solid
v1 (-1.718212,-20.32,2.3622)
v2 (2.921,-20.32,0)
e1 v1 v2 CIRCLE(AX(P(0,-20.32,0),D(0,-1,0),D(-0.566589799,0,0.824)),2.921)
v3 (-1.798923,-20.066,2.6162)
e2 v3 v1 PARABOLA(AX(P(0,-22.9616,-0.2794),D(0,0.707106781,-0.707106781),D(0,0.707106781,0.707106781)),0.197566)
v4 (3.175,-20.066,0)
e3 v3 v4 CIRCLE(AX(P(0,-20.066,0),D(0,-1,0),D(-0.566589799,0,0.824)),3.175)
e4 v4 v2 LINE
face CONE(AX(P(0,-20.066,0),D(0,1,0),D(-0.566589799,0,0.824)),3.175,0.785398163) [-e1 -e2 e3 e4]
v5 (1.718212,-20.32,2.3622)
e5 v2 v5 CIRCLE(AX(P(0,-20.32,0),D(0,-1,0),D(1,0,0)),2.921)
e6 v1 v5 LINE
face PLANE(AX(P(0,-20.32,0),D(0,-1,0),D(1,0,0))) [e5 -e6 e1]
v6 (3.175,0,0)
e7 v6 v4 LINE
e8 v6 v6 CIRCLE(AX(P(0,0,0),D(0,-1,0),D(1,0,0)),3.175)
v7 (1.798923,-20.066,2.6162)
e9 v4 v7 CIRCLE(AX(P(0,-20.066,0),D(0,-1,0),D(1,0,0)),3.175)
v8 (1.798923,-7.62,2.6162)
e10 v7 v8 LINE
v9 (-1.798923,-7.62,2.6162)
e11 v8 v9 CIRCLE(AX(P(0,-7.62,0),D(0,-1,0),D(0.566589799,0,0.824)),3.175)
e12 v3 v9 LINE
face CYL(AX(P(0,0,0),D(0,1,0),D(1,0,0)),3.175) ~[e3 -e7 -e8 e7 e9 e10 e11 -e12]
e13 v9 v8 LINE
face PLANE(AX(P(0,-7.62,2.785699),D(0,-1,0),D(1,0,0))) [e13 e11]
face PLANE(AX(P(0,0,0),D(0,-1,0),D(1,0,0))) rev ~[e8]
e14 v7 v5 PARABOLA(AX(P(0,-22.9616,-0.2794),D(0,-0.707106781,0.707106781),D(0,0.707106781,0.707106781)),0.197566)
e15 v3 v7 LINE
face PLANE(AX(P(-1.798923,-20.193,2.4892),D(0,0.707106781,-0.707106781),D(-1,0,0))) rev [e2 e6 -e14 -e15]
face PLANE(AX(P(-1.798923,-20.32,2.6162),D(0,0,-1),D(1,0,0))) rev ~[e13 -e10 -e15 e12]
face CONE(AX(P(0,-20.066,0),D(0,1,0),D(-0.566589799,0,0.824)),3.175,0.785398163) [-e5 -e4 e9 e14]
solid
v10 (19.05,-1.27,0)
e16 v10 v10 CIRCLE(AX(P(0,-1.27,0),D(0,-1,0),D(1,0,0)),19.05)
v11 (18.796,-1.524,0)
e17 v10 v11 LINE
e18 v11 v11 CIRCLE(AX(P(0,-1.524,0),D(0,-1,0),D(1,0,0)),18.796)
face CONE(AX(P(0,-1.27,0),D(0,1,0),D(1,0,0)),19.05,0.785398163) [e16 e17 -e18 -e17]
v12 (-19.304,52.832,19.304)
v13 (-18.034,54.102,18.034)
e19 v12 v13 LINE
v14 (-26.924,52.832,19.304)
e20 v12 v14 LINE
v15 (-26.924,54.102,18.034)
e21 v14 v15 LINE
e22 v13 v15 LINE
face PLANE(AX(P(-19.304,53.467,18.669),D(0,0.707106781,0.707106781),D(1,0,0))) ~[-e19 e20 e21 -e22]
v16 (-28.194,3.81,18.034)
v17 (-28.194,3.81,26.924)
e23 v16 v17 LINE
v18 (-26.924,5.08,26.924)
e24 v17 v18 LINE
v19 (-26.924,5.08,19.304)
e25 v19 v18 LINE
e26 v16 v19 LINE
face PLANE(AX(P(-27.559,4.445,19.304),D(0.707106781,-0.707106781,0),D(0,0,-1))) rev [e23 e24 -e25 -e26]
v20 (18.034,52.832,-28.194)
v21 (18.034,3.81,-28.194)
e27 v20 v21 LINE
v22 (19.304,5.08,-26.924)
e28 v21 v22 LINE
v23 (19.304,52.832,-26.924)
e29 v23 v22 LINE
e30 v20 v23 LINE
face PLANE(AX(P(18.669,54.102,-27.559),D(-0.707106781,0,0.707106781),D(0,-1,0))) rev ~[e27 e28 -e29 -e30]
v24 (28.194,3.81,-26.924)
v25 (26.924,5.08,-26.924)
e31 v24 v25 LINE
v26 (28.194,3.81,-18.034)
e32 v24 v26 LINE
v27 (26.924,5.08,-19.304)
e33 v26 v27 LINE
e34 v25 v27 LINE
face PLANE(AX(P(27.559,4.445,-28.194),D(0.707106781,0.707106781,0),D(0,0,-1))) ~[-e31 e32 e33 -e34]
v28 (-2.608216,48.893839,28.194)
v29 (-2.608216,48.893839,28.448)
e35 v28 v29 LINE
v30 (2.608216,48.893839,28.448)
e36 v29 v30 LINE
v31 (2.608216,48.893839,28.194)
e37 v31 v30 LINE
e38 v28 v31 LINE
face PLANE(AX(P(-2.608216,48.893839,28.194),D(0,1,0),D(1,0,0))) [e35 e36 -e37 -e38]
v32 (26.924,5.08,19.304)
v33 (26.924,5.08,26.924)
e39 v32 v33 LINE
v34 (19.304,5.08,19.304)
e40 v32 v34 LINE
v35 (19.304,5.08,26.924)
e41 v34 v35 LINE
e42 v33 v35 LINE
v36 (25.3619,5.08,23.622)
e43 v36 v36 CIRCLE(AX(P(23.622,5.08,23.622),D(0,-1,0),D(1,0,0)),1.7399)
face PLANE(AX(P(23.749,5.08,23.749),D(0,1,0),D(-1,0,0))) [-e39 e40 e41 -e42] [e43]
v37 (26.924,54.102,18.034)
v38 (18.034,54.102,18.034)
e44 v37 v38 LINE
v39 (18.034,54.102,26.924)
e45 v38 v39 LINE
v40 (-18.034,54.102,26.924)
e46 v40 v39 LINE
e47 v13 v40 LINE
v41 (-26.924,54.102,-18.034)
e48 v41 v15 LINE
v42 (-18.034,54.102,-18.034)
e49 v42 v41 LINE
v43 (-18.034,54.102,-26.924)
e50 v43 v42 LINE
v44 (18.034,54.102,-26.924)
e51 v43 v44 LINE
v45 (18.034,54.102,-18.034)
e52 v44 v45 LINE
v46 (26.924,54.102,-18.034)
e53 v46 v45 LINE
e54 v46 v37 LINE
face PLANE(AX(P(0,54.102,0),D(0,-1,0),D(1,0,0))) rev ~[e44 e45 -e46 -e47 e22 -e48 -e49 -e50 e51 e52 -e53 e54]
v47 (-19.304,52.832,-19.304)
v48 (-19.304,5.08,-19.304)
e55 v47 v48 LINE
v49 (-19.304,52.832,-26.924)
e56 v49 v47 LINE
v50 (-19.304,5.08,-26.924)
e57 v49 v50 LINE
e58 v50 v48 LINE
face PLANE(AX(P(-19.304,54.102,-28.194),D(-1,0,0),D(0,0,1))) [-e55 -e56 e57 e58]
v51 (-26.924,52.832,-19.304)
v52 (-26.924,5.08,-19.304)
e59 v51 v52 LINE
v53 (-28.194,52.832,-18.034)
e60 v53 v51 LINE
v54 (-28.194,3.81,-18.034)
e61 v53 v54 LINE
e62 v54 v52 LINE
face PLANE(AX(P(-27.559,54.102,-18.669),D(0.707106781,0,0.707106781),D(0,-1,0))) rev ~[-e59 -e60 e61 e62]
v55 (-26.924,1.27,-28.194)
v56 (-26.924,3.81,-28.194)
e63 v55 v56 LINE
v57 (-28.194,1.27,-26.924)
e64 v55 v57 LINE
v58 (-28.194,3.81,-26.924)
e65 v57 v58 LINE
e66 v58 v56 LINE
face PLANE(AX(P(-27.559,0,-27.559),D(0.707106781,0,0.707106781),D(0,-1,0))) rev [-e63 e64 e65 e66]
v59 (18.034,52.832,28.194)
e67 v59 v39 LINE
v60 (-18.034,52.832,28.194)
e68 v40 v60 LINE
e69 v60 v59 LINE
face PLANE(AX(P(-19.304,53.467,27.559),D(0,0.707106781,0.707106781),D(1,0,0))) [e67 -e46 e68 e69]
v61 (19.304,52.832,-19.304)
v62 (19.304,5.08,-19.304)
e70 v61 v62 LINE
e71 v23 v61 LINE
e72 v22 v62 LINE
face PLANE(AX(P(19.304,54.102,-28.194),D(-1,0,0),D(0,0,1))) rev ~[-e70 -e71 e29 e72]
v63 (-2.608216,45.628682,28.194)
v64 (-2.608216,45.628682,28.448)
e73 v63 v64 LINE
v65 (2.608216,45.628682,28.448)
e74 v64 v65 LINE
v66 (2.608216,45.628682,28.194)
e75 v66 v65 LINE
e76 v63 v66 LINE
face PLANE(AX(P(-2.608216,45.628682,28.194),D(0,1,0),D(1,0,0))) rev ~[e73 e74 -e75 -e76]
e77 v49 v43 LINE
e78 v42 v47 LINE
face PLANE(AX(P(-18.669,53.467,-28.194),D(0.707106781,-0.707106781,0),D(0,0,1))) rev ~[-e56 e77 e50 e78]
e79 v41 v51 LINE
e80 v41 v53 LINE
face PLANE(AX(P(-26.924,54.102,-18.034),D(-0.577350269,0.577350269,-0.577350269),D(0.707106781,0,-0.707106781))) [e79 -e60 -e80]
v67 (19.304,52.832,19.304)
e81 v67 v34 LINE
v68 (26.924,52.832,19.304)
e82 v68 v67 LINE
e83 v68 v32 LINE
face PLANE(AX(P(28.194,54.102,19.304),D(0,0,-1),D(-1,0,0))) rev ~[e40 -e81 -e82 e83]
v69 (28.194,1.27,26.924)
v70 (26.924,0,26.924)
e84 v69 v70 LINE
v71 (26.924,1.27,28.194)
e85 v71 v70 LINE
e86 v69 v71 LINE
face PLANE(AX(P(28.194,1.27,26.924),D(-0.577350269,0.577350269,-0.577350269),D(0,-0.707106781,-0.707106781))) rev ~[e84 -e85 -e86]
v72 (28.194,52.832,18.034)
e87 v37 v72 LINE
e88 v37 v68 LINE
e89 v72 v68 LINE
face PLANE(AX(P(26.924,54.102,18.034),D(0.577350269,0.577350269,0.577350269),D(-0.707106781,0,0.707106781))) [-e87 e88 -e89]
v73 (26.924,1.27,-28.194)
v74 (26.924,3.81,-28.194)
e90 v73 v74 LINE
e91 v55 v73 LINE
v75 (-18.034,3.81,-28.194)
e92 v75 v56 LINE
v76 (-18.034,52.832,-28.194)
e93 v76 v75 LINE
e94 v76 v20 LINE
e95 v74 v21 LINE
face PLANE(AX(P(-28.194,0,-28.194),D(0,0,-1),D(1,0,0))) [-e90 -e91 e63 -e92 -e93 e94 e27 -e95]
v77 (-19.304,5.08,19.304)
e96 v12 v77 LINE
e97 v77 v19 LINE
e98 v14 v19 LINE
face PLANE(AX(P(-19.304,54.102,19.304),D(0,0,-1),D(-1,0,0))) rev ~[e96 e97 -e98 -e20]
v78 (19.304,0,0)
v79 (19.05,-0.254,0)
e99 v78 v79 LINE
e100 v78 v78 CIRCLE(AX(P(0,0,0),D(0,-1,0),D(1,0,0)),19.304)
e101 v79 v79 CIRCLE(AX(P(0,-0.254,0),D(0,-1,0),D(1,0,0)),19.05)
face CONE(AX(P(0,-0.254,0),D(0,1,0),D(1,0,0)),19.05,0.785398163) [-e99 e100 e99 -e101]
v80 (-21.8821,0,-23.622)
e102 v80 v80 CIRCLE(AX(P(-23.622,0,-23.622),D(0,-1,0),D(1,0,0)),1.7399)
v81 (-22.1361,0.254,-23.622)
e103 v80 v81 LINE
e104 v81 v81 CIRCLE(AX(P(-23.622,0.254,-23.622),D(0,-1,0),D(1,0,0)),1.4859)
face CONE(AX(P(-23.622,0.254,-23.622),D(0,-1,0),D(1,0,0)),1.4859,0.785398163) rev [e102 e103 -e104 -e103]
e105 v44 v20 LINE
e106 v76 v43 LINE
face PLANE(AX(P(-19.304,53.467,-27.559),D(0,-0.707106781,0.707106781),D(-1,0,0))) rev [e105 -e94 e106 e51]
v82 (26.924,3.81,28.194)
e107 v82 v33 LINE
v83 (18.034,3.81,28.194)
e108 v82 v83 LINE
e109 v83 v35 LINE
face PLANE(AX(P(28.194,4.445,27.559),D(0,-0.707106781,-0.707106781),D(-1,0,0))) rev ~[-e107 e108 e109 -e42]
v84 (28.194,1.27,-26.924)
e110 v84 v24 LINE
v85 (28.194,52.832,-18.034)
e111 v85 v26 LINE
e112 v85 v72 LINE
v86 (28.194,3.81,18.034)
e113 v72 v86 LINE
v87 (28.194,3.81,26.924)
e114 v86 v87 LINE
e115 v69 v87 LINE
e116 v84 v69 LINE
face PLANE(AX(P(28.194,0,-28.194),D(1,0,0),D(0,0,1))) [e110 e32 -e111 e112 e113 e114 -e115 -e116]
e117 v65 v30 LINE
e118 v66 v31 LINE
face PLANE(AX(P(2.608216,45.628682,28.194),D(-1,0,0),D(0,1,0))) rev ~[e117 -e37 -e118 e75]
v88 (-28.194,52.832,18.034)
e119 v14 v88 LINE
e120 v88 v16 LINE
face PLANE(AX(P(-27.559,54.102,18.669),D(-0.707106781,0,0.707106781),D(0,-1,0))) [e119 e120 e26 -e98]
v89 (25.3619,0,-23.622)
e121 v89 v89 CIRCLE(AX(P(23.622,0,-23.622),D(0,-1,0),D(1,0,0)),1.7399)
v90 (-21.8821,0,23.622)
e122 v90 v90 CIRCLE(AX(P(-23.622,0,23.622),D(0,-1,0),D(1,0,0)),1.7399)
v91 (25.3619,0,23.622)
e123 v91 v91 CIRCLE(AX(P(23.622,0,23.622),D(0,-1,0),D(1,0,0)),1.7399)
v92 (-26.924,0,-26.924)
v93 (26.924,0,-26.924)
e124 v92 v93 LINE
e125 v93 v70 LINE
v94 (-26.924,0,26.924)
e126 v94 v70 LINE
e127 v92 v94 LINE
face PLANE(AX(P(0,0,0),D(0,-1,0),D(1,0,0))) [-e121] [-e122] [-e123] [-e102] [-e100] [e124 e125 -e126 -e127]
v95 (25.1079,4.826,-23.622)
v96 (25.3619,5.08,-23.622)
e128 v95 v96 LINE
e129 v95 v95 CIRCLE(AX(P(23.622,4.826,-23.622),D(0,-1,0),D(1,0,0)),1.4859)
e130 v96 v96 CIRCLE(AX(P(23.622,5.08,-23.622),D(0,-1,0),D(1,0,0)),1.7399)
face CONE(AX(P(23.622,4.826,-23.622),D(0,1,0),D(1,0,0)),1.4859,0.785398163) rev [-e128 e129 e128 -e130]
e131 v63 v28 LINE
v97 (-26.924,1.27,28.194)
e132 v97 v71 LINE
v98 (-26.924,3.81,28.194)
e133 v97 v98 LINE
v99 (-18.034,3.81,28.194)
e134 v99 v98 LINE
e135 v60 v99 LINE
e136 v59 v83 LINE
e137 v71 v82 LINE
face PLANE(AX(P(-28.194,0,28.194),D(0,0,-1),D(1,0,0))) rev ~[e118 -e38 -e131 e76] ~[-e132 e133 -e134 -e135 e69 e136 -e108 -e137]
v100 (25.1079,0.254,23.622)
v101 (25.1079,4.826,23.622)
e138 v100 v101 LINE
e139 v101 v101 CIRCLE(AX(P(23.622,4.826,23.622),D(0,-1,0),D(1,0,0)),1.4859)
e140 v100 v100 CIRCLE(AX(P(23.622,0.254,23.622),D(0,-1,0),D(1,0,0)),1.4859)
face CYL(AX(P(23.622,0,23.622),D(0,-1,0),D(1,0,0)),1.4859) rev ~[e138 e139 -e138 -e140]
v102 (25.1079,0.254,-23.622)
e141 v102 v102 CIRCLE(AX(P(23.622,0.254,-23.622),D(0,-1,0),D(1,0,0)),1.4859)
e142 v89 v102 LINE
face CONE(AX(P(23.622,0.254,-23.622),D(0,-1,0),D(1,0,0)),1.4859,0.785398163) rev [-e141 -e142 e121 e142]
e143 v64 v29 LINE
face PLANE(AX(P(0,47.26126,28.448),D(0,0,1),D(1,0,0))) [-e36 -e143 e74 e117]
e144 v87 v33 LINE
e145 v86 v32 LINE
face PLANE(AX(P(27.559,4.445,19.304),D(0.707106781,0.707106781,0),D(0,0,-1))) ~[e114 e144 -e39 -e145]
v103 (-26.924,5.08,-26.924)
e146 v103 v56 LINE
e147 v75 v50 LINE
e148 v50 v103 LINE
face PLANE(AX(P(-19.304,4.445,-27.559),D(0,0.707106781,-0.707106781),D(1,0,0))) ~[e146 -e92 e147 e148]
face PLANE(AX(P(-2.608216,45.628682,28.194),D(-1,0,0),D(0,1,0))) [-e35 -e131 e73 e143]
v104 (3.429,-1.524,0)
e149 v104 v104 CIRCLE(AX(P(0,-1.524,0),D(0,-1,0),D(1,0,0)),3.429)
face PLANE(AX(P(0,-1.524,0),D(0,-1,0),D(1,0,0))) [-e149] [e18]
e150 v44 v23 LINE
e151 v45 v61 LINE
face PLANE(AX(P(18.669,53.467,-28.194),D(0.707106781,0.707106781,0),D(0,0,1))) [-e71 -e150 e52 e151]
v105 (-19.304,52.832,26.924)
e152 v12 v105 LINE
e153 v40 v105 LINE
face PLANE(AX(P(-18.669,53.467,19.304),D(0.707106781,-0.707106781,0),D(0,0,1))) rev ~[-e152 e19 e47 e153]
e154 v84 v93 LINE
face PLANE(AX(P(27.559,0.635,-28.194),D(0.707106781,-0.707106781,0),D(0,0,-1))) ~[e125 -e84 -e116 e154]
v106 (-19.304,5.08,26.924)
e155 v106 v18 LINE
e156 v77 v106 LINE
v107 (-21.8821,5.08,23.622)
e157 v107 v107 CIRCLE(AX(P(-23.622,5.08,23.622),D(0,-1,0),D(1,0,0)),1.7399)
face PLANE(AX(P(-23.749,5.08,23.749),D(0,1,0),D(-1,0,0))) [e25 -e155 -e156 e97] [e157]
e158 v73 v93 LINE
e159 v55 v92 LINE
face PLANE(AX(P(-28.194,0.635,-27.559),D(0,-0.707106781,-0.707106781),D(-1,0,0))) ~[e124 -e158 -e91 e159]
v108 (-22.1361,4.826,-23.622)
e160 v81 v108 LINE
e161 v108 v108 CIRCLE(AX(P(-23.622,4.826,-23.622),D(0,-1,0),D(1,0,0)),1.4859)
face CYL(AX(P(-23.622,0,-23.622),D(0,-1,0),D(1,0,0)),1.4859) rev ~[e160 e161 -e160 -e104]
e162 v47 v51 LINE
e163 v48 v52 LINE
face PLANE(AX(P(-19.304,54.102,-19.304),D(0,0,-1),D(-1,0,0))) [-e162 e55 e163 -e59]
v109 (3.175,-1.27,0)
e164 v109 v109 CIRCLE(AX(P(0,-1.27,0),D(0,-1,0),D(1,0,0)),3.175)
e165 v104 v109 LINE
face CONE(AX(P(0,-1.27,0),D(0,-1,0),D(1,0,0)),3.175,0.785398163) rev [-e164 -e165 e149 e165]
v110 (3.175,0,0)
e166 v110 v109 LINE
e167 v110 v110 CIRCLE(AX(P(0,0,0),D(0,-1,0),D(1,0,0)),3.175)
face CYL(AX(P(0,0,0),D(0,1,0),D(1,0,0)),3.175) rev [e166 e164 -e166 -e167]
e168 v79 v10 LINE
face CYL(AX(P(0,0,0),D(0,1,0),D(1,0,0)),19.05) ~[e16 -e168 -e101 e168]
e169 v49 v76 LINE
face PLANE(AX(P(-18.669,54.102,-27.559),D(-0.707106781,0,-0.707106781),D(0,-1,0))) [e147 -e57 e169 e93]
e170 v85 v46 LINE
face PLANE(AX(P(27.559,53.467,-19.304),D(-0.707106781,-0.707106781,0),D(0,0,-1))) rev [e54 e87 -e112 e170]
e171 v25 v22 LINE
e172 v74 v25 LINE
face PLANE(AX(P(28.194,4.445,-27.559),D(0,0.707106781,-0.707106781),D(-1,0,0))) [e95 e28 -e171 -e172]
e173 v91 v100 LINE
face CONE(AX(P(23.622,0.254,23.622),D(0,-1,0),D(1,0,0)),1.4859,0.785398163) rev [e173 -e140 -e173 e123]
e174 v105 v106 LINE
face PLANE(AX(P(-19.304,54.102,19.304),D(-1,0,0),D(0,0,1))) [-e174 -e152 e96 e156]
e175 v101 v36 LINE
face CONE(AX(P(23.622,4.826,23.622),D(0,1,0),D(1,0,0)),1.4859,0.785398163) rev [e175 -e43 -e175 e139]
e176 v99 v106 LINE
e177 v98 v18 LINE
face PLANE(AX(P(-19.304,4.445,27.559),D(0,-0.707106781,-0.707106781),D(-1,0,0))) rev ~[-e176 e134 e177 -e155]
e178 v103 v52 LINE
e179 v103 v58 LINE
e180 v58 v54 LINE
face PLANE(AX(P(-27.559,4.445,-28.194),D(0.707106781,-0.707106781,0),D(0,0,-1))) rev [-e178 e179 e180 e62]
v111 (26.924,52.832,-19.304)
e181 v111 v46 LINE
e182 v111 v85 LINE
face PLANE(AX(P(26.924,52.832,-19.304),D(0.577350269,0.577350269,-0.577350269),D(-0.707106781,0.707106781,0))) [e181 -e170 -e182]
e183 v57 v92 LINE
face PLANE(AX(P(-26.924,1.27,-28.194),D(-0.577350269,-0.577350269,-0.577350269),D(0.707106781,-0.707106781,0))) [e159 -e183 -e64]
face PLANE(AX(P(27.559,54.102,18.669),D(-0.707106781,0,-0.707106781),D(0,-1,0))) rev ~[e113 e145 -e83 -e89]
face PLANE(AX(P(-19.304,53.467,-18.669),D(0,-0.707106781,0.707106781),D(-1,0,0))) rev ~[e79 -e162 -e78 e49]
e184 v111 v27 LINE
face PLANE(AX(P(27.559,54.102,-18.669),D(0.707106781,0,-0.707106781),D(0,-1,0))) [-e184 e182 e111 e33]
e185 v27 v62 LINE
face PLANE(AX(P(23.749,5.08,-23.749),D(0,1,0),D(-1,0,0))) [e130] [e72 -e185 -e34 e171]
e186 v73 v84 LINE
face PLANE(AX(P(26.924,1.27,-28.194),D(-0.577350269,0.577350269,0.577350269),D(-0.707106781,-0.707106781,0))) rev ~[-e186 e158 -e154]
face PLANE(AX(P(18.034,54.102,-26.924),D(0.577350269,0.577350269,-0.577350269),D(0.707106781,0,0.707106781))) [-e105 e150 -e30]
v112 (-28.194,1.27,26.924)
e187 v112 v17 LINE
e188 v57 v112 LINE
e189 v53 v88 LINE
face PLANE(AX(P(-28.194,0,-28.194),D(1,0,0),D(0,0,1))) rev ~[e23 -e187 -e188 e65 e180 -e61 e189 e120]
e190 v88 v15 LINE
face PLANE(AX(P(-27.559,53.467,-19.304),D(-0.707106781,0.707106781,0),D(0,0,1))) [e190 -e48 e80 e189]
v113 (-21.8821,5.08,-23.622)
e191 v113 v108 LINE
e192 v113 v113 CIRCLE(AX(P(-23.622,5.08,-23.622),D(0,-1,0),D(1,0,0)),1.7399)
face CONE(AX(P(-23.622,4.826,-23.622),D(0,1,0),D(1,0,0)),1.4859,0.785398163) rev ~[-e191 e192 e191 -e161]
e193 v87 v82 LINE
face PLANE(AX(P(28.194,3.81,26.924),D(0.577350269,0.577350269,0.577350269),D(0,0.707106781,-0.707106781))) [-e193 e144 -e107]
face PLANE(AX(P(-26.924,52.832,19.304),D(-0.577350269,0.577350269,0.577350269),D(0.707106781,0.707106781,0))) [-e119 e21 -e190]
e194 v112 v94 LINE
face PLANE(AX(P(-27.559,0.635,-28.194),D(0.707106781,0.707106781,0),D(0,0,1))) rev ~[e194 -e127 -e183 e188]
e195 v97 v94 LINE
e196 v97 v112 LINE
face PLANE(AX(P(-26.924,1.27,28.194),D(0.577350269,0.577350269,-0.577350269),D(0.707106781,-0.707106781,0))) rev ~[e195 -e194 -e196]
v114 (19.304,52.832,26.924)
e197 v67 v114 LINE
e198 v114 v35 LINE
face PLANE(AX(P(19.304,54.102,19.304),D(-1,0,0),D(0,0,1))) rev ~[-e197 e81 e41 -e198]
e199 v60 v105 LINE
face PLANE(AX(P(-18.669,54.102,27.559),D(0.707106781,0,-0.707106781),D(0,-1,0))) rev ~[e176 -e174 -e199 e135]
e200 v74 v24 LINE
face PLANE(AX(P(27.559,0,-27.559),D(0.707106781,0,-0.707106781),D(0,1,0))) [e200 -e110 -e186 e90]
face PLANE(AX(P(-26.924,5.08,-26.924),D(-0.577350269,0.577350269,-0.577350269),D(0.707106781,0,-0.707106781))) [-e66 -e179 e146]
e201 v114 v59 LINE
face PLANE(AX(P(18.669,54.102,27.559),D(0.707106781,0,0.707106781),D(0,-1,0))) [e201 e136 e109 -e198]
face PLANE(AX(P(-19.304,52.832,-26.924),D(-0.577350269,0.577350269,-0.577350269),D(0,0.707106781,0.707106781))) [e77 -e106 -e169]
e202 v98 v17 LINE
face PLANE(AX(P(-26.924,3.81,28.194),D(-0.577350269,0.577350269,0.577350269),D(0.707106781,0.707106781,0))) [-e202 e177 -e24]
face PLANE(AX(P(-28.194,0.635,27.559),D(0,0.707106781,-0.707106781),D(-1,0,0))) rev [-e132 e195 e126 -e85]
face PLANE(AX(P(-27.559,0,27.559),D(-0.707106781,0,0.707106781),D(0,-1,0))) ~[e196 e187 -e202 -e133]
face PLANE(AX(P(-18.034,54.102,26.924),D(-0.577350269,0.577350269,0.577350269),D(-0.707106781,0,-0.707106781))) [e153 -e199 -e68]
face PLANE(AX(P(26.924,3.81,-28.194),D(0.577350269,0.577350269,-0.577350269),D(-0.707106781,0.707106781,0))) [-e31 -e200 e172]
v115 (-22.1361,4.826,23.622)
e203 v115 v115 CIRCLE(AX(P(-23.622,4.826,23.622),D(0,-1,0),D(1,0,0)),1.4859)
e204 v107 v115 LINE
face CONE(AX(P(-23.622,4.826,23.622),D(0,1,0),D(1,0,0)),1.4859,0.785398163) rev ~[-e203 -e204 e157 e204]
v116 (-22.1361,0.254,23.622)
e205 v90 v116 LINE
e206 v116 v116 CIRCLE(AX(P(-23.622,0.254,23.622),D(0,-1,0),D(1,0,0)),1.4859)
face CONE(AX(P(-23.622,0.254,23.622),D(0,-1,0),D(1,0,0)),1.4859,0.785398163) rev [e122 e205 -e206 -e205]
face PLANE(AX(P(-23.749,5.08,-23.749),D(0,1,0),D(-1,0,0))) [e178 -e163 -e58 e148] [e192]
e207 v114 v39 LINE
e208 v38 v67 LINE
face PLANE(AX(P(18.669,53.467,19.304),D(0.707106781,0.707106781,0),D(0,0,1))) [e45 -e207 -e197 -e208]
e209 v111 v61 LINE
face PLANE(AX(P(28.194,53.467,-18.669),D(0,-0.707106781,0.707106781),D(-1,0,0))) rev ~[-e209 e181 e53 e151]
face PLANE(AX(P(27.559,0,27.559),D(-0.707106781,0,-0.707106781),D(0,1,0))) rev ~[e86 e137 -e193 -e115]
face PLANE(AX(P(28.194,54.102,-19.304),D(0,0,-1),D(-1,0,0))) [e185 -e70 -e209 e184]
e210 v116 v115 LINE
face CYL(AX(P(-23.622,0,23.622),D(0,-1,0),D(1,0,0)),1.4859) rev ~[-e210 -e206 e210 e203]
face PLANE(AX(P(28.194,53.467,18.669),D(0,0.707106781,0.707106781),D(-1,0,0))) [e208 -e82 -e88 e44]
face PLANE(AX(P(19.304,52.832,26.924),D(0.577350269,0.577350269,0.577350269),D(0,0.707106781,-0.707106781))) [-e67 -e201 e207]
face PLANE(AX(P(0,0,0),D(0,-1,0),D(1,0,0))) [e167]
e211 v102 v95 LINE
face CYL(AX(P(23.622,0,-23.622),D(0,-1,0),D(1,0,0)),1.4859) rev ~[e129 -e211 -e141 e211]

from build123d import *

# Parameters (mm, degrees)
F0_W      = 56.388
F0_H      = 56.388
F0_R      = 1.4859
F0_R_2    = 19.05
F0_R_3    = 3.175
F1_DEPTH  = 54.102
F2_DEPTH  = 1.524
F3_DEPTH  = 20.32
F5_DEPTH  = 12.7
F6_W      = 8.89
F6_H      = 8.89
F7_DEPTH  = 49.022
F8_SIZE   = 1.27
F9_SIZE   = 0.254
F9_2_SIZE = 0.254
F10_W     = 5.2164322697
F10_H     = 3.265157342
F11_DEPTH = 0.254


with BuildPart() as f1:
    # F0 (on Front) → F1 (new body)
    with BuildSketch(Plane.XZ):
        Rectangle(F0_W, F0_H)
        with Locations((-23.622, -23.622)):
            Circle(F0_R, mode=Mode.SUBTRACT)
        with Locations((23.622, -23.622)):
            Circle(F0_R, mode=Mode.SUBTRACT)
        with Locations((-23.622, 23.622)):
            Circle(F0_R, mode=Mode.SUBTRACT)
        Circle(F0_R_2, mode=Mode.SUBTRACT)
        with Locations((23.622, 23.622)):
            Circle(F0_R, mode=Mode.SUBTRACT)
        Circle(F0_R_2)
        Circle(F0_R_3, mode=Mode.SUBTRACT)
        Circle(F0_R_3)
    extrude(amount=-F1_DEPTH)

    # F0 (on Front) → F2 (join)
    with BuildSketch(Plane.XZ):
        Circle(F0_R_2)
        Circle(F0_R_3, mode=Mode.SUBTRACT)
    extrude(amount=F2_DEPTH)

    # F6 (on face) → F7 (cut)
    with BuildSketch(Plane(origin=(0, 54.102, 0), x_dir=(-1, 0, 0), z_dir=(0, 1, 0))):
        with Locations((-23.749, 23.749)):
            Rectangle(F6_W, F6_H)
        with Locations((23.749, 23.749)):
            Rectangle(F6_W, F6_H)
        with Locations((23.749, -23.749)):
            Rectangle(F6_W, F6_H)
        with Locations((-23.749, -23.749)):
            Rectangle(F6_W, F6_H)
    extrude(amount=-F7_DEPTH, mode=Mode.SUBTRACT)

    # F8
    f8_edges = [f1.edges().sort_by_distance(p)[0] for p in [
        (-28.194, 0, 0),
        (-28.194, 2.54, -28.194),
        (-28.194, 5.08, -23.749),
        (-28.194, 29.591, -19.304),
        (-28.194, 54.102, 0),
        (-28.194, 29.591, 19.304),
        (-28.194, 5.08, 23.749),
        (-28.194, 2.54, 28.194),
        (0, 0, 28.194),
        (-23.749, 5.08, 28.194),
        (-19.304, 29.591, 28.194),
        (0, 54.102, 28.194),
        (19.304, 29.591, 28.194),
        (23.749, 5.08, 28.194),
        (28.194, 2.54, 28.194),
        (28.194, 0, 0),
        (28.194, 5.08, 23.749),
        (28.194, 29.591, 19.304),
        (28.194, 54.102, 0),
        (28.194, 29.591, -19.304),
        (28.194, 5.08, -23.749),
        (28.194, 2.54, -28.194),
        (0, 0, -28.194),
        (23.749, 5.08, -28.194),
        (19.304, 29.591, -28.194),
        (0, 54.102, -28.194),
        (-19.304, 29.591, -28.194),
        (-23.749, 5.08, -28.194),
        (23.749, 54.102, -19.304),
        (19.304, 54.102, -23.749),
        (-19.304, 54.102, -23.749),
        (-23.749, 54.102, -19.304),
        (-23.749, 54.102, 19.304),
        (-19.304, 54.102, 23.749),
        (19.304, 54.102, 23.749),
        (23.749, 54.102, 19.304),
    ]]
    chamfer(f8_edges, length=F8_SIZE)

    # F9
    f9_edges = [f1.edges().sort_by_distance(p)[0] for p in [
        (-25.1079, 5.08, 23.622),
        (-25.1079, 5.08, -23.622),
        (22.1361, 5.08, 23.622),
        (22.1361, 5.08, -23.622),
        (22.1361, 0, -23.622),
        (22.1361, 0, 23.622),
        (-25.1079, 0, 23.622),
        (-25.1079, 0, -23.622),
        (-19.05, 0, 0),
        (-19.05, -1.524, 0),
        (-3.175, -1.524, 0),
    ]]
    chamfer(f9_edges, length=F9_SIZE)

    # F10 (on face) → F11 (join)
    with BuildSketch(Plane.XY.offset(28.194)):
        with Locations((0, 47.2612604499)):
            Rectangle(F10_W, F10_H)
    extrude(amount=F11_DEPTH)


with BuildPart() as f3:
    # F0 (on Front) → F3 (new body)
    with BuildSketch(Plane.XZ):
        Circle(F0_R_3)
    extrude(amount=F3_DEPTH)

    # F4 (on face) → F5 (cut)
    with BuildSketch(Plane.XZ.offset(20.32)):
        with BuildLine():
            ThreePointArc((1.7989226109, 2.6162), (0, 3.175), (-1.7989226109, 2.6162))
            Line((-1.7989226109, 2.6162), (1.7989226109, 2.6162))
        make_face()
    extrude(amount=-F5_DEPTH, mode=Mode.SUBTRACT)

    # F9#2
    f9_2_edges = [f3.edges().sort_by_distance(p)[0] for p in [
        (-1.478013, -20.32, -2.81),
        (0, -20.32, 2.6162),
    ]]
    chamfer(f9_2_edges, length=F9_2_SIZE)


solid = Compound([f1.part, f3.part])
